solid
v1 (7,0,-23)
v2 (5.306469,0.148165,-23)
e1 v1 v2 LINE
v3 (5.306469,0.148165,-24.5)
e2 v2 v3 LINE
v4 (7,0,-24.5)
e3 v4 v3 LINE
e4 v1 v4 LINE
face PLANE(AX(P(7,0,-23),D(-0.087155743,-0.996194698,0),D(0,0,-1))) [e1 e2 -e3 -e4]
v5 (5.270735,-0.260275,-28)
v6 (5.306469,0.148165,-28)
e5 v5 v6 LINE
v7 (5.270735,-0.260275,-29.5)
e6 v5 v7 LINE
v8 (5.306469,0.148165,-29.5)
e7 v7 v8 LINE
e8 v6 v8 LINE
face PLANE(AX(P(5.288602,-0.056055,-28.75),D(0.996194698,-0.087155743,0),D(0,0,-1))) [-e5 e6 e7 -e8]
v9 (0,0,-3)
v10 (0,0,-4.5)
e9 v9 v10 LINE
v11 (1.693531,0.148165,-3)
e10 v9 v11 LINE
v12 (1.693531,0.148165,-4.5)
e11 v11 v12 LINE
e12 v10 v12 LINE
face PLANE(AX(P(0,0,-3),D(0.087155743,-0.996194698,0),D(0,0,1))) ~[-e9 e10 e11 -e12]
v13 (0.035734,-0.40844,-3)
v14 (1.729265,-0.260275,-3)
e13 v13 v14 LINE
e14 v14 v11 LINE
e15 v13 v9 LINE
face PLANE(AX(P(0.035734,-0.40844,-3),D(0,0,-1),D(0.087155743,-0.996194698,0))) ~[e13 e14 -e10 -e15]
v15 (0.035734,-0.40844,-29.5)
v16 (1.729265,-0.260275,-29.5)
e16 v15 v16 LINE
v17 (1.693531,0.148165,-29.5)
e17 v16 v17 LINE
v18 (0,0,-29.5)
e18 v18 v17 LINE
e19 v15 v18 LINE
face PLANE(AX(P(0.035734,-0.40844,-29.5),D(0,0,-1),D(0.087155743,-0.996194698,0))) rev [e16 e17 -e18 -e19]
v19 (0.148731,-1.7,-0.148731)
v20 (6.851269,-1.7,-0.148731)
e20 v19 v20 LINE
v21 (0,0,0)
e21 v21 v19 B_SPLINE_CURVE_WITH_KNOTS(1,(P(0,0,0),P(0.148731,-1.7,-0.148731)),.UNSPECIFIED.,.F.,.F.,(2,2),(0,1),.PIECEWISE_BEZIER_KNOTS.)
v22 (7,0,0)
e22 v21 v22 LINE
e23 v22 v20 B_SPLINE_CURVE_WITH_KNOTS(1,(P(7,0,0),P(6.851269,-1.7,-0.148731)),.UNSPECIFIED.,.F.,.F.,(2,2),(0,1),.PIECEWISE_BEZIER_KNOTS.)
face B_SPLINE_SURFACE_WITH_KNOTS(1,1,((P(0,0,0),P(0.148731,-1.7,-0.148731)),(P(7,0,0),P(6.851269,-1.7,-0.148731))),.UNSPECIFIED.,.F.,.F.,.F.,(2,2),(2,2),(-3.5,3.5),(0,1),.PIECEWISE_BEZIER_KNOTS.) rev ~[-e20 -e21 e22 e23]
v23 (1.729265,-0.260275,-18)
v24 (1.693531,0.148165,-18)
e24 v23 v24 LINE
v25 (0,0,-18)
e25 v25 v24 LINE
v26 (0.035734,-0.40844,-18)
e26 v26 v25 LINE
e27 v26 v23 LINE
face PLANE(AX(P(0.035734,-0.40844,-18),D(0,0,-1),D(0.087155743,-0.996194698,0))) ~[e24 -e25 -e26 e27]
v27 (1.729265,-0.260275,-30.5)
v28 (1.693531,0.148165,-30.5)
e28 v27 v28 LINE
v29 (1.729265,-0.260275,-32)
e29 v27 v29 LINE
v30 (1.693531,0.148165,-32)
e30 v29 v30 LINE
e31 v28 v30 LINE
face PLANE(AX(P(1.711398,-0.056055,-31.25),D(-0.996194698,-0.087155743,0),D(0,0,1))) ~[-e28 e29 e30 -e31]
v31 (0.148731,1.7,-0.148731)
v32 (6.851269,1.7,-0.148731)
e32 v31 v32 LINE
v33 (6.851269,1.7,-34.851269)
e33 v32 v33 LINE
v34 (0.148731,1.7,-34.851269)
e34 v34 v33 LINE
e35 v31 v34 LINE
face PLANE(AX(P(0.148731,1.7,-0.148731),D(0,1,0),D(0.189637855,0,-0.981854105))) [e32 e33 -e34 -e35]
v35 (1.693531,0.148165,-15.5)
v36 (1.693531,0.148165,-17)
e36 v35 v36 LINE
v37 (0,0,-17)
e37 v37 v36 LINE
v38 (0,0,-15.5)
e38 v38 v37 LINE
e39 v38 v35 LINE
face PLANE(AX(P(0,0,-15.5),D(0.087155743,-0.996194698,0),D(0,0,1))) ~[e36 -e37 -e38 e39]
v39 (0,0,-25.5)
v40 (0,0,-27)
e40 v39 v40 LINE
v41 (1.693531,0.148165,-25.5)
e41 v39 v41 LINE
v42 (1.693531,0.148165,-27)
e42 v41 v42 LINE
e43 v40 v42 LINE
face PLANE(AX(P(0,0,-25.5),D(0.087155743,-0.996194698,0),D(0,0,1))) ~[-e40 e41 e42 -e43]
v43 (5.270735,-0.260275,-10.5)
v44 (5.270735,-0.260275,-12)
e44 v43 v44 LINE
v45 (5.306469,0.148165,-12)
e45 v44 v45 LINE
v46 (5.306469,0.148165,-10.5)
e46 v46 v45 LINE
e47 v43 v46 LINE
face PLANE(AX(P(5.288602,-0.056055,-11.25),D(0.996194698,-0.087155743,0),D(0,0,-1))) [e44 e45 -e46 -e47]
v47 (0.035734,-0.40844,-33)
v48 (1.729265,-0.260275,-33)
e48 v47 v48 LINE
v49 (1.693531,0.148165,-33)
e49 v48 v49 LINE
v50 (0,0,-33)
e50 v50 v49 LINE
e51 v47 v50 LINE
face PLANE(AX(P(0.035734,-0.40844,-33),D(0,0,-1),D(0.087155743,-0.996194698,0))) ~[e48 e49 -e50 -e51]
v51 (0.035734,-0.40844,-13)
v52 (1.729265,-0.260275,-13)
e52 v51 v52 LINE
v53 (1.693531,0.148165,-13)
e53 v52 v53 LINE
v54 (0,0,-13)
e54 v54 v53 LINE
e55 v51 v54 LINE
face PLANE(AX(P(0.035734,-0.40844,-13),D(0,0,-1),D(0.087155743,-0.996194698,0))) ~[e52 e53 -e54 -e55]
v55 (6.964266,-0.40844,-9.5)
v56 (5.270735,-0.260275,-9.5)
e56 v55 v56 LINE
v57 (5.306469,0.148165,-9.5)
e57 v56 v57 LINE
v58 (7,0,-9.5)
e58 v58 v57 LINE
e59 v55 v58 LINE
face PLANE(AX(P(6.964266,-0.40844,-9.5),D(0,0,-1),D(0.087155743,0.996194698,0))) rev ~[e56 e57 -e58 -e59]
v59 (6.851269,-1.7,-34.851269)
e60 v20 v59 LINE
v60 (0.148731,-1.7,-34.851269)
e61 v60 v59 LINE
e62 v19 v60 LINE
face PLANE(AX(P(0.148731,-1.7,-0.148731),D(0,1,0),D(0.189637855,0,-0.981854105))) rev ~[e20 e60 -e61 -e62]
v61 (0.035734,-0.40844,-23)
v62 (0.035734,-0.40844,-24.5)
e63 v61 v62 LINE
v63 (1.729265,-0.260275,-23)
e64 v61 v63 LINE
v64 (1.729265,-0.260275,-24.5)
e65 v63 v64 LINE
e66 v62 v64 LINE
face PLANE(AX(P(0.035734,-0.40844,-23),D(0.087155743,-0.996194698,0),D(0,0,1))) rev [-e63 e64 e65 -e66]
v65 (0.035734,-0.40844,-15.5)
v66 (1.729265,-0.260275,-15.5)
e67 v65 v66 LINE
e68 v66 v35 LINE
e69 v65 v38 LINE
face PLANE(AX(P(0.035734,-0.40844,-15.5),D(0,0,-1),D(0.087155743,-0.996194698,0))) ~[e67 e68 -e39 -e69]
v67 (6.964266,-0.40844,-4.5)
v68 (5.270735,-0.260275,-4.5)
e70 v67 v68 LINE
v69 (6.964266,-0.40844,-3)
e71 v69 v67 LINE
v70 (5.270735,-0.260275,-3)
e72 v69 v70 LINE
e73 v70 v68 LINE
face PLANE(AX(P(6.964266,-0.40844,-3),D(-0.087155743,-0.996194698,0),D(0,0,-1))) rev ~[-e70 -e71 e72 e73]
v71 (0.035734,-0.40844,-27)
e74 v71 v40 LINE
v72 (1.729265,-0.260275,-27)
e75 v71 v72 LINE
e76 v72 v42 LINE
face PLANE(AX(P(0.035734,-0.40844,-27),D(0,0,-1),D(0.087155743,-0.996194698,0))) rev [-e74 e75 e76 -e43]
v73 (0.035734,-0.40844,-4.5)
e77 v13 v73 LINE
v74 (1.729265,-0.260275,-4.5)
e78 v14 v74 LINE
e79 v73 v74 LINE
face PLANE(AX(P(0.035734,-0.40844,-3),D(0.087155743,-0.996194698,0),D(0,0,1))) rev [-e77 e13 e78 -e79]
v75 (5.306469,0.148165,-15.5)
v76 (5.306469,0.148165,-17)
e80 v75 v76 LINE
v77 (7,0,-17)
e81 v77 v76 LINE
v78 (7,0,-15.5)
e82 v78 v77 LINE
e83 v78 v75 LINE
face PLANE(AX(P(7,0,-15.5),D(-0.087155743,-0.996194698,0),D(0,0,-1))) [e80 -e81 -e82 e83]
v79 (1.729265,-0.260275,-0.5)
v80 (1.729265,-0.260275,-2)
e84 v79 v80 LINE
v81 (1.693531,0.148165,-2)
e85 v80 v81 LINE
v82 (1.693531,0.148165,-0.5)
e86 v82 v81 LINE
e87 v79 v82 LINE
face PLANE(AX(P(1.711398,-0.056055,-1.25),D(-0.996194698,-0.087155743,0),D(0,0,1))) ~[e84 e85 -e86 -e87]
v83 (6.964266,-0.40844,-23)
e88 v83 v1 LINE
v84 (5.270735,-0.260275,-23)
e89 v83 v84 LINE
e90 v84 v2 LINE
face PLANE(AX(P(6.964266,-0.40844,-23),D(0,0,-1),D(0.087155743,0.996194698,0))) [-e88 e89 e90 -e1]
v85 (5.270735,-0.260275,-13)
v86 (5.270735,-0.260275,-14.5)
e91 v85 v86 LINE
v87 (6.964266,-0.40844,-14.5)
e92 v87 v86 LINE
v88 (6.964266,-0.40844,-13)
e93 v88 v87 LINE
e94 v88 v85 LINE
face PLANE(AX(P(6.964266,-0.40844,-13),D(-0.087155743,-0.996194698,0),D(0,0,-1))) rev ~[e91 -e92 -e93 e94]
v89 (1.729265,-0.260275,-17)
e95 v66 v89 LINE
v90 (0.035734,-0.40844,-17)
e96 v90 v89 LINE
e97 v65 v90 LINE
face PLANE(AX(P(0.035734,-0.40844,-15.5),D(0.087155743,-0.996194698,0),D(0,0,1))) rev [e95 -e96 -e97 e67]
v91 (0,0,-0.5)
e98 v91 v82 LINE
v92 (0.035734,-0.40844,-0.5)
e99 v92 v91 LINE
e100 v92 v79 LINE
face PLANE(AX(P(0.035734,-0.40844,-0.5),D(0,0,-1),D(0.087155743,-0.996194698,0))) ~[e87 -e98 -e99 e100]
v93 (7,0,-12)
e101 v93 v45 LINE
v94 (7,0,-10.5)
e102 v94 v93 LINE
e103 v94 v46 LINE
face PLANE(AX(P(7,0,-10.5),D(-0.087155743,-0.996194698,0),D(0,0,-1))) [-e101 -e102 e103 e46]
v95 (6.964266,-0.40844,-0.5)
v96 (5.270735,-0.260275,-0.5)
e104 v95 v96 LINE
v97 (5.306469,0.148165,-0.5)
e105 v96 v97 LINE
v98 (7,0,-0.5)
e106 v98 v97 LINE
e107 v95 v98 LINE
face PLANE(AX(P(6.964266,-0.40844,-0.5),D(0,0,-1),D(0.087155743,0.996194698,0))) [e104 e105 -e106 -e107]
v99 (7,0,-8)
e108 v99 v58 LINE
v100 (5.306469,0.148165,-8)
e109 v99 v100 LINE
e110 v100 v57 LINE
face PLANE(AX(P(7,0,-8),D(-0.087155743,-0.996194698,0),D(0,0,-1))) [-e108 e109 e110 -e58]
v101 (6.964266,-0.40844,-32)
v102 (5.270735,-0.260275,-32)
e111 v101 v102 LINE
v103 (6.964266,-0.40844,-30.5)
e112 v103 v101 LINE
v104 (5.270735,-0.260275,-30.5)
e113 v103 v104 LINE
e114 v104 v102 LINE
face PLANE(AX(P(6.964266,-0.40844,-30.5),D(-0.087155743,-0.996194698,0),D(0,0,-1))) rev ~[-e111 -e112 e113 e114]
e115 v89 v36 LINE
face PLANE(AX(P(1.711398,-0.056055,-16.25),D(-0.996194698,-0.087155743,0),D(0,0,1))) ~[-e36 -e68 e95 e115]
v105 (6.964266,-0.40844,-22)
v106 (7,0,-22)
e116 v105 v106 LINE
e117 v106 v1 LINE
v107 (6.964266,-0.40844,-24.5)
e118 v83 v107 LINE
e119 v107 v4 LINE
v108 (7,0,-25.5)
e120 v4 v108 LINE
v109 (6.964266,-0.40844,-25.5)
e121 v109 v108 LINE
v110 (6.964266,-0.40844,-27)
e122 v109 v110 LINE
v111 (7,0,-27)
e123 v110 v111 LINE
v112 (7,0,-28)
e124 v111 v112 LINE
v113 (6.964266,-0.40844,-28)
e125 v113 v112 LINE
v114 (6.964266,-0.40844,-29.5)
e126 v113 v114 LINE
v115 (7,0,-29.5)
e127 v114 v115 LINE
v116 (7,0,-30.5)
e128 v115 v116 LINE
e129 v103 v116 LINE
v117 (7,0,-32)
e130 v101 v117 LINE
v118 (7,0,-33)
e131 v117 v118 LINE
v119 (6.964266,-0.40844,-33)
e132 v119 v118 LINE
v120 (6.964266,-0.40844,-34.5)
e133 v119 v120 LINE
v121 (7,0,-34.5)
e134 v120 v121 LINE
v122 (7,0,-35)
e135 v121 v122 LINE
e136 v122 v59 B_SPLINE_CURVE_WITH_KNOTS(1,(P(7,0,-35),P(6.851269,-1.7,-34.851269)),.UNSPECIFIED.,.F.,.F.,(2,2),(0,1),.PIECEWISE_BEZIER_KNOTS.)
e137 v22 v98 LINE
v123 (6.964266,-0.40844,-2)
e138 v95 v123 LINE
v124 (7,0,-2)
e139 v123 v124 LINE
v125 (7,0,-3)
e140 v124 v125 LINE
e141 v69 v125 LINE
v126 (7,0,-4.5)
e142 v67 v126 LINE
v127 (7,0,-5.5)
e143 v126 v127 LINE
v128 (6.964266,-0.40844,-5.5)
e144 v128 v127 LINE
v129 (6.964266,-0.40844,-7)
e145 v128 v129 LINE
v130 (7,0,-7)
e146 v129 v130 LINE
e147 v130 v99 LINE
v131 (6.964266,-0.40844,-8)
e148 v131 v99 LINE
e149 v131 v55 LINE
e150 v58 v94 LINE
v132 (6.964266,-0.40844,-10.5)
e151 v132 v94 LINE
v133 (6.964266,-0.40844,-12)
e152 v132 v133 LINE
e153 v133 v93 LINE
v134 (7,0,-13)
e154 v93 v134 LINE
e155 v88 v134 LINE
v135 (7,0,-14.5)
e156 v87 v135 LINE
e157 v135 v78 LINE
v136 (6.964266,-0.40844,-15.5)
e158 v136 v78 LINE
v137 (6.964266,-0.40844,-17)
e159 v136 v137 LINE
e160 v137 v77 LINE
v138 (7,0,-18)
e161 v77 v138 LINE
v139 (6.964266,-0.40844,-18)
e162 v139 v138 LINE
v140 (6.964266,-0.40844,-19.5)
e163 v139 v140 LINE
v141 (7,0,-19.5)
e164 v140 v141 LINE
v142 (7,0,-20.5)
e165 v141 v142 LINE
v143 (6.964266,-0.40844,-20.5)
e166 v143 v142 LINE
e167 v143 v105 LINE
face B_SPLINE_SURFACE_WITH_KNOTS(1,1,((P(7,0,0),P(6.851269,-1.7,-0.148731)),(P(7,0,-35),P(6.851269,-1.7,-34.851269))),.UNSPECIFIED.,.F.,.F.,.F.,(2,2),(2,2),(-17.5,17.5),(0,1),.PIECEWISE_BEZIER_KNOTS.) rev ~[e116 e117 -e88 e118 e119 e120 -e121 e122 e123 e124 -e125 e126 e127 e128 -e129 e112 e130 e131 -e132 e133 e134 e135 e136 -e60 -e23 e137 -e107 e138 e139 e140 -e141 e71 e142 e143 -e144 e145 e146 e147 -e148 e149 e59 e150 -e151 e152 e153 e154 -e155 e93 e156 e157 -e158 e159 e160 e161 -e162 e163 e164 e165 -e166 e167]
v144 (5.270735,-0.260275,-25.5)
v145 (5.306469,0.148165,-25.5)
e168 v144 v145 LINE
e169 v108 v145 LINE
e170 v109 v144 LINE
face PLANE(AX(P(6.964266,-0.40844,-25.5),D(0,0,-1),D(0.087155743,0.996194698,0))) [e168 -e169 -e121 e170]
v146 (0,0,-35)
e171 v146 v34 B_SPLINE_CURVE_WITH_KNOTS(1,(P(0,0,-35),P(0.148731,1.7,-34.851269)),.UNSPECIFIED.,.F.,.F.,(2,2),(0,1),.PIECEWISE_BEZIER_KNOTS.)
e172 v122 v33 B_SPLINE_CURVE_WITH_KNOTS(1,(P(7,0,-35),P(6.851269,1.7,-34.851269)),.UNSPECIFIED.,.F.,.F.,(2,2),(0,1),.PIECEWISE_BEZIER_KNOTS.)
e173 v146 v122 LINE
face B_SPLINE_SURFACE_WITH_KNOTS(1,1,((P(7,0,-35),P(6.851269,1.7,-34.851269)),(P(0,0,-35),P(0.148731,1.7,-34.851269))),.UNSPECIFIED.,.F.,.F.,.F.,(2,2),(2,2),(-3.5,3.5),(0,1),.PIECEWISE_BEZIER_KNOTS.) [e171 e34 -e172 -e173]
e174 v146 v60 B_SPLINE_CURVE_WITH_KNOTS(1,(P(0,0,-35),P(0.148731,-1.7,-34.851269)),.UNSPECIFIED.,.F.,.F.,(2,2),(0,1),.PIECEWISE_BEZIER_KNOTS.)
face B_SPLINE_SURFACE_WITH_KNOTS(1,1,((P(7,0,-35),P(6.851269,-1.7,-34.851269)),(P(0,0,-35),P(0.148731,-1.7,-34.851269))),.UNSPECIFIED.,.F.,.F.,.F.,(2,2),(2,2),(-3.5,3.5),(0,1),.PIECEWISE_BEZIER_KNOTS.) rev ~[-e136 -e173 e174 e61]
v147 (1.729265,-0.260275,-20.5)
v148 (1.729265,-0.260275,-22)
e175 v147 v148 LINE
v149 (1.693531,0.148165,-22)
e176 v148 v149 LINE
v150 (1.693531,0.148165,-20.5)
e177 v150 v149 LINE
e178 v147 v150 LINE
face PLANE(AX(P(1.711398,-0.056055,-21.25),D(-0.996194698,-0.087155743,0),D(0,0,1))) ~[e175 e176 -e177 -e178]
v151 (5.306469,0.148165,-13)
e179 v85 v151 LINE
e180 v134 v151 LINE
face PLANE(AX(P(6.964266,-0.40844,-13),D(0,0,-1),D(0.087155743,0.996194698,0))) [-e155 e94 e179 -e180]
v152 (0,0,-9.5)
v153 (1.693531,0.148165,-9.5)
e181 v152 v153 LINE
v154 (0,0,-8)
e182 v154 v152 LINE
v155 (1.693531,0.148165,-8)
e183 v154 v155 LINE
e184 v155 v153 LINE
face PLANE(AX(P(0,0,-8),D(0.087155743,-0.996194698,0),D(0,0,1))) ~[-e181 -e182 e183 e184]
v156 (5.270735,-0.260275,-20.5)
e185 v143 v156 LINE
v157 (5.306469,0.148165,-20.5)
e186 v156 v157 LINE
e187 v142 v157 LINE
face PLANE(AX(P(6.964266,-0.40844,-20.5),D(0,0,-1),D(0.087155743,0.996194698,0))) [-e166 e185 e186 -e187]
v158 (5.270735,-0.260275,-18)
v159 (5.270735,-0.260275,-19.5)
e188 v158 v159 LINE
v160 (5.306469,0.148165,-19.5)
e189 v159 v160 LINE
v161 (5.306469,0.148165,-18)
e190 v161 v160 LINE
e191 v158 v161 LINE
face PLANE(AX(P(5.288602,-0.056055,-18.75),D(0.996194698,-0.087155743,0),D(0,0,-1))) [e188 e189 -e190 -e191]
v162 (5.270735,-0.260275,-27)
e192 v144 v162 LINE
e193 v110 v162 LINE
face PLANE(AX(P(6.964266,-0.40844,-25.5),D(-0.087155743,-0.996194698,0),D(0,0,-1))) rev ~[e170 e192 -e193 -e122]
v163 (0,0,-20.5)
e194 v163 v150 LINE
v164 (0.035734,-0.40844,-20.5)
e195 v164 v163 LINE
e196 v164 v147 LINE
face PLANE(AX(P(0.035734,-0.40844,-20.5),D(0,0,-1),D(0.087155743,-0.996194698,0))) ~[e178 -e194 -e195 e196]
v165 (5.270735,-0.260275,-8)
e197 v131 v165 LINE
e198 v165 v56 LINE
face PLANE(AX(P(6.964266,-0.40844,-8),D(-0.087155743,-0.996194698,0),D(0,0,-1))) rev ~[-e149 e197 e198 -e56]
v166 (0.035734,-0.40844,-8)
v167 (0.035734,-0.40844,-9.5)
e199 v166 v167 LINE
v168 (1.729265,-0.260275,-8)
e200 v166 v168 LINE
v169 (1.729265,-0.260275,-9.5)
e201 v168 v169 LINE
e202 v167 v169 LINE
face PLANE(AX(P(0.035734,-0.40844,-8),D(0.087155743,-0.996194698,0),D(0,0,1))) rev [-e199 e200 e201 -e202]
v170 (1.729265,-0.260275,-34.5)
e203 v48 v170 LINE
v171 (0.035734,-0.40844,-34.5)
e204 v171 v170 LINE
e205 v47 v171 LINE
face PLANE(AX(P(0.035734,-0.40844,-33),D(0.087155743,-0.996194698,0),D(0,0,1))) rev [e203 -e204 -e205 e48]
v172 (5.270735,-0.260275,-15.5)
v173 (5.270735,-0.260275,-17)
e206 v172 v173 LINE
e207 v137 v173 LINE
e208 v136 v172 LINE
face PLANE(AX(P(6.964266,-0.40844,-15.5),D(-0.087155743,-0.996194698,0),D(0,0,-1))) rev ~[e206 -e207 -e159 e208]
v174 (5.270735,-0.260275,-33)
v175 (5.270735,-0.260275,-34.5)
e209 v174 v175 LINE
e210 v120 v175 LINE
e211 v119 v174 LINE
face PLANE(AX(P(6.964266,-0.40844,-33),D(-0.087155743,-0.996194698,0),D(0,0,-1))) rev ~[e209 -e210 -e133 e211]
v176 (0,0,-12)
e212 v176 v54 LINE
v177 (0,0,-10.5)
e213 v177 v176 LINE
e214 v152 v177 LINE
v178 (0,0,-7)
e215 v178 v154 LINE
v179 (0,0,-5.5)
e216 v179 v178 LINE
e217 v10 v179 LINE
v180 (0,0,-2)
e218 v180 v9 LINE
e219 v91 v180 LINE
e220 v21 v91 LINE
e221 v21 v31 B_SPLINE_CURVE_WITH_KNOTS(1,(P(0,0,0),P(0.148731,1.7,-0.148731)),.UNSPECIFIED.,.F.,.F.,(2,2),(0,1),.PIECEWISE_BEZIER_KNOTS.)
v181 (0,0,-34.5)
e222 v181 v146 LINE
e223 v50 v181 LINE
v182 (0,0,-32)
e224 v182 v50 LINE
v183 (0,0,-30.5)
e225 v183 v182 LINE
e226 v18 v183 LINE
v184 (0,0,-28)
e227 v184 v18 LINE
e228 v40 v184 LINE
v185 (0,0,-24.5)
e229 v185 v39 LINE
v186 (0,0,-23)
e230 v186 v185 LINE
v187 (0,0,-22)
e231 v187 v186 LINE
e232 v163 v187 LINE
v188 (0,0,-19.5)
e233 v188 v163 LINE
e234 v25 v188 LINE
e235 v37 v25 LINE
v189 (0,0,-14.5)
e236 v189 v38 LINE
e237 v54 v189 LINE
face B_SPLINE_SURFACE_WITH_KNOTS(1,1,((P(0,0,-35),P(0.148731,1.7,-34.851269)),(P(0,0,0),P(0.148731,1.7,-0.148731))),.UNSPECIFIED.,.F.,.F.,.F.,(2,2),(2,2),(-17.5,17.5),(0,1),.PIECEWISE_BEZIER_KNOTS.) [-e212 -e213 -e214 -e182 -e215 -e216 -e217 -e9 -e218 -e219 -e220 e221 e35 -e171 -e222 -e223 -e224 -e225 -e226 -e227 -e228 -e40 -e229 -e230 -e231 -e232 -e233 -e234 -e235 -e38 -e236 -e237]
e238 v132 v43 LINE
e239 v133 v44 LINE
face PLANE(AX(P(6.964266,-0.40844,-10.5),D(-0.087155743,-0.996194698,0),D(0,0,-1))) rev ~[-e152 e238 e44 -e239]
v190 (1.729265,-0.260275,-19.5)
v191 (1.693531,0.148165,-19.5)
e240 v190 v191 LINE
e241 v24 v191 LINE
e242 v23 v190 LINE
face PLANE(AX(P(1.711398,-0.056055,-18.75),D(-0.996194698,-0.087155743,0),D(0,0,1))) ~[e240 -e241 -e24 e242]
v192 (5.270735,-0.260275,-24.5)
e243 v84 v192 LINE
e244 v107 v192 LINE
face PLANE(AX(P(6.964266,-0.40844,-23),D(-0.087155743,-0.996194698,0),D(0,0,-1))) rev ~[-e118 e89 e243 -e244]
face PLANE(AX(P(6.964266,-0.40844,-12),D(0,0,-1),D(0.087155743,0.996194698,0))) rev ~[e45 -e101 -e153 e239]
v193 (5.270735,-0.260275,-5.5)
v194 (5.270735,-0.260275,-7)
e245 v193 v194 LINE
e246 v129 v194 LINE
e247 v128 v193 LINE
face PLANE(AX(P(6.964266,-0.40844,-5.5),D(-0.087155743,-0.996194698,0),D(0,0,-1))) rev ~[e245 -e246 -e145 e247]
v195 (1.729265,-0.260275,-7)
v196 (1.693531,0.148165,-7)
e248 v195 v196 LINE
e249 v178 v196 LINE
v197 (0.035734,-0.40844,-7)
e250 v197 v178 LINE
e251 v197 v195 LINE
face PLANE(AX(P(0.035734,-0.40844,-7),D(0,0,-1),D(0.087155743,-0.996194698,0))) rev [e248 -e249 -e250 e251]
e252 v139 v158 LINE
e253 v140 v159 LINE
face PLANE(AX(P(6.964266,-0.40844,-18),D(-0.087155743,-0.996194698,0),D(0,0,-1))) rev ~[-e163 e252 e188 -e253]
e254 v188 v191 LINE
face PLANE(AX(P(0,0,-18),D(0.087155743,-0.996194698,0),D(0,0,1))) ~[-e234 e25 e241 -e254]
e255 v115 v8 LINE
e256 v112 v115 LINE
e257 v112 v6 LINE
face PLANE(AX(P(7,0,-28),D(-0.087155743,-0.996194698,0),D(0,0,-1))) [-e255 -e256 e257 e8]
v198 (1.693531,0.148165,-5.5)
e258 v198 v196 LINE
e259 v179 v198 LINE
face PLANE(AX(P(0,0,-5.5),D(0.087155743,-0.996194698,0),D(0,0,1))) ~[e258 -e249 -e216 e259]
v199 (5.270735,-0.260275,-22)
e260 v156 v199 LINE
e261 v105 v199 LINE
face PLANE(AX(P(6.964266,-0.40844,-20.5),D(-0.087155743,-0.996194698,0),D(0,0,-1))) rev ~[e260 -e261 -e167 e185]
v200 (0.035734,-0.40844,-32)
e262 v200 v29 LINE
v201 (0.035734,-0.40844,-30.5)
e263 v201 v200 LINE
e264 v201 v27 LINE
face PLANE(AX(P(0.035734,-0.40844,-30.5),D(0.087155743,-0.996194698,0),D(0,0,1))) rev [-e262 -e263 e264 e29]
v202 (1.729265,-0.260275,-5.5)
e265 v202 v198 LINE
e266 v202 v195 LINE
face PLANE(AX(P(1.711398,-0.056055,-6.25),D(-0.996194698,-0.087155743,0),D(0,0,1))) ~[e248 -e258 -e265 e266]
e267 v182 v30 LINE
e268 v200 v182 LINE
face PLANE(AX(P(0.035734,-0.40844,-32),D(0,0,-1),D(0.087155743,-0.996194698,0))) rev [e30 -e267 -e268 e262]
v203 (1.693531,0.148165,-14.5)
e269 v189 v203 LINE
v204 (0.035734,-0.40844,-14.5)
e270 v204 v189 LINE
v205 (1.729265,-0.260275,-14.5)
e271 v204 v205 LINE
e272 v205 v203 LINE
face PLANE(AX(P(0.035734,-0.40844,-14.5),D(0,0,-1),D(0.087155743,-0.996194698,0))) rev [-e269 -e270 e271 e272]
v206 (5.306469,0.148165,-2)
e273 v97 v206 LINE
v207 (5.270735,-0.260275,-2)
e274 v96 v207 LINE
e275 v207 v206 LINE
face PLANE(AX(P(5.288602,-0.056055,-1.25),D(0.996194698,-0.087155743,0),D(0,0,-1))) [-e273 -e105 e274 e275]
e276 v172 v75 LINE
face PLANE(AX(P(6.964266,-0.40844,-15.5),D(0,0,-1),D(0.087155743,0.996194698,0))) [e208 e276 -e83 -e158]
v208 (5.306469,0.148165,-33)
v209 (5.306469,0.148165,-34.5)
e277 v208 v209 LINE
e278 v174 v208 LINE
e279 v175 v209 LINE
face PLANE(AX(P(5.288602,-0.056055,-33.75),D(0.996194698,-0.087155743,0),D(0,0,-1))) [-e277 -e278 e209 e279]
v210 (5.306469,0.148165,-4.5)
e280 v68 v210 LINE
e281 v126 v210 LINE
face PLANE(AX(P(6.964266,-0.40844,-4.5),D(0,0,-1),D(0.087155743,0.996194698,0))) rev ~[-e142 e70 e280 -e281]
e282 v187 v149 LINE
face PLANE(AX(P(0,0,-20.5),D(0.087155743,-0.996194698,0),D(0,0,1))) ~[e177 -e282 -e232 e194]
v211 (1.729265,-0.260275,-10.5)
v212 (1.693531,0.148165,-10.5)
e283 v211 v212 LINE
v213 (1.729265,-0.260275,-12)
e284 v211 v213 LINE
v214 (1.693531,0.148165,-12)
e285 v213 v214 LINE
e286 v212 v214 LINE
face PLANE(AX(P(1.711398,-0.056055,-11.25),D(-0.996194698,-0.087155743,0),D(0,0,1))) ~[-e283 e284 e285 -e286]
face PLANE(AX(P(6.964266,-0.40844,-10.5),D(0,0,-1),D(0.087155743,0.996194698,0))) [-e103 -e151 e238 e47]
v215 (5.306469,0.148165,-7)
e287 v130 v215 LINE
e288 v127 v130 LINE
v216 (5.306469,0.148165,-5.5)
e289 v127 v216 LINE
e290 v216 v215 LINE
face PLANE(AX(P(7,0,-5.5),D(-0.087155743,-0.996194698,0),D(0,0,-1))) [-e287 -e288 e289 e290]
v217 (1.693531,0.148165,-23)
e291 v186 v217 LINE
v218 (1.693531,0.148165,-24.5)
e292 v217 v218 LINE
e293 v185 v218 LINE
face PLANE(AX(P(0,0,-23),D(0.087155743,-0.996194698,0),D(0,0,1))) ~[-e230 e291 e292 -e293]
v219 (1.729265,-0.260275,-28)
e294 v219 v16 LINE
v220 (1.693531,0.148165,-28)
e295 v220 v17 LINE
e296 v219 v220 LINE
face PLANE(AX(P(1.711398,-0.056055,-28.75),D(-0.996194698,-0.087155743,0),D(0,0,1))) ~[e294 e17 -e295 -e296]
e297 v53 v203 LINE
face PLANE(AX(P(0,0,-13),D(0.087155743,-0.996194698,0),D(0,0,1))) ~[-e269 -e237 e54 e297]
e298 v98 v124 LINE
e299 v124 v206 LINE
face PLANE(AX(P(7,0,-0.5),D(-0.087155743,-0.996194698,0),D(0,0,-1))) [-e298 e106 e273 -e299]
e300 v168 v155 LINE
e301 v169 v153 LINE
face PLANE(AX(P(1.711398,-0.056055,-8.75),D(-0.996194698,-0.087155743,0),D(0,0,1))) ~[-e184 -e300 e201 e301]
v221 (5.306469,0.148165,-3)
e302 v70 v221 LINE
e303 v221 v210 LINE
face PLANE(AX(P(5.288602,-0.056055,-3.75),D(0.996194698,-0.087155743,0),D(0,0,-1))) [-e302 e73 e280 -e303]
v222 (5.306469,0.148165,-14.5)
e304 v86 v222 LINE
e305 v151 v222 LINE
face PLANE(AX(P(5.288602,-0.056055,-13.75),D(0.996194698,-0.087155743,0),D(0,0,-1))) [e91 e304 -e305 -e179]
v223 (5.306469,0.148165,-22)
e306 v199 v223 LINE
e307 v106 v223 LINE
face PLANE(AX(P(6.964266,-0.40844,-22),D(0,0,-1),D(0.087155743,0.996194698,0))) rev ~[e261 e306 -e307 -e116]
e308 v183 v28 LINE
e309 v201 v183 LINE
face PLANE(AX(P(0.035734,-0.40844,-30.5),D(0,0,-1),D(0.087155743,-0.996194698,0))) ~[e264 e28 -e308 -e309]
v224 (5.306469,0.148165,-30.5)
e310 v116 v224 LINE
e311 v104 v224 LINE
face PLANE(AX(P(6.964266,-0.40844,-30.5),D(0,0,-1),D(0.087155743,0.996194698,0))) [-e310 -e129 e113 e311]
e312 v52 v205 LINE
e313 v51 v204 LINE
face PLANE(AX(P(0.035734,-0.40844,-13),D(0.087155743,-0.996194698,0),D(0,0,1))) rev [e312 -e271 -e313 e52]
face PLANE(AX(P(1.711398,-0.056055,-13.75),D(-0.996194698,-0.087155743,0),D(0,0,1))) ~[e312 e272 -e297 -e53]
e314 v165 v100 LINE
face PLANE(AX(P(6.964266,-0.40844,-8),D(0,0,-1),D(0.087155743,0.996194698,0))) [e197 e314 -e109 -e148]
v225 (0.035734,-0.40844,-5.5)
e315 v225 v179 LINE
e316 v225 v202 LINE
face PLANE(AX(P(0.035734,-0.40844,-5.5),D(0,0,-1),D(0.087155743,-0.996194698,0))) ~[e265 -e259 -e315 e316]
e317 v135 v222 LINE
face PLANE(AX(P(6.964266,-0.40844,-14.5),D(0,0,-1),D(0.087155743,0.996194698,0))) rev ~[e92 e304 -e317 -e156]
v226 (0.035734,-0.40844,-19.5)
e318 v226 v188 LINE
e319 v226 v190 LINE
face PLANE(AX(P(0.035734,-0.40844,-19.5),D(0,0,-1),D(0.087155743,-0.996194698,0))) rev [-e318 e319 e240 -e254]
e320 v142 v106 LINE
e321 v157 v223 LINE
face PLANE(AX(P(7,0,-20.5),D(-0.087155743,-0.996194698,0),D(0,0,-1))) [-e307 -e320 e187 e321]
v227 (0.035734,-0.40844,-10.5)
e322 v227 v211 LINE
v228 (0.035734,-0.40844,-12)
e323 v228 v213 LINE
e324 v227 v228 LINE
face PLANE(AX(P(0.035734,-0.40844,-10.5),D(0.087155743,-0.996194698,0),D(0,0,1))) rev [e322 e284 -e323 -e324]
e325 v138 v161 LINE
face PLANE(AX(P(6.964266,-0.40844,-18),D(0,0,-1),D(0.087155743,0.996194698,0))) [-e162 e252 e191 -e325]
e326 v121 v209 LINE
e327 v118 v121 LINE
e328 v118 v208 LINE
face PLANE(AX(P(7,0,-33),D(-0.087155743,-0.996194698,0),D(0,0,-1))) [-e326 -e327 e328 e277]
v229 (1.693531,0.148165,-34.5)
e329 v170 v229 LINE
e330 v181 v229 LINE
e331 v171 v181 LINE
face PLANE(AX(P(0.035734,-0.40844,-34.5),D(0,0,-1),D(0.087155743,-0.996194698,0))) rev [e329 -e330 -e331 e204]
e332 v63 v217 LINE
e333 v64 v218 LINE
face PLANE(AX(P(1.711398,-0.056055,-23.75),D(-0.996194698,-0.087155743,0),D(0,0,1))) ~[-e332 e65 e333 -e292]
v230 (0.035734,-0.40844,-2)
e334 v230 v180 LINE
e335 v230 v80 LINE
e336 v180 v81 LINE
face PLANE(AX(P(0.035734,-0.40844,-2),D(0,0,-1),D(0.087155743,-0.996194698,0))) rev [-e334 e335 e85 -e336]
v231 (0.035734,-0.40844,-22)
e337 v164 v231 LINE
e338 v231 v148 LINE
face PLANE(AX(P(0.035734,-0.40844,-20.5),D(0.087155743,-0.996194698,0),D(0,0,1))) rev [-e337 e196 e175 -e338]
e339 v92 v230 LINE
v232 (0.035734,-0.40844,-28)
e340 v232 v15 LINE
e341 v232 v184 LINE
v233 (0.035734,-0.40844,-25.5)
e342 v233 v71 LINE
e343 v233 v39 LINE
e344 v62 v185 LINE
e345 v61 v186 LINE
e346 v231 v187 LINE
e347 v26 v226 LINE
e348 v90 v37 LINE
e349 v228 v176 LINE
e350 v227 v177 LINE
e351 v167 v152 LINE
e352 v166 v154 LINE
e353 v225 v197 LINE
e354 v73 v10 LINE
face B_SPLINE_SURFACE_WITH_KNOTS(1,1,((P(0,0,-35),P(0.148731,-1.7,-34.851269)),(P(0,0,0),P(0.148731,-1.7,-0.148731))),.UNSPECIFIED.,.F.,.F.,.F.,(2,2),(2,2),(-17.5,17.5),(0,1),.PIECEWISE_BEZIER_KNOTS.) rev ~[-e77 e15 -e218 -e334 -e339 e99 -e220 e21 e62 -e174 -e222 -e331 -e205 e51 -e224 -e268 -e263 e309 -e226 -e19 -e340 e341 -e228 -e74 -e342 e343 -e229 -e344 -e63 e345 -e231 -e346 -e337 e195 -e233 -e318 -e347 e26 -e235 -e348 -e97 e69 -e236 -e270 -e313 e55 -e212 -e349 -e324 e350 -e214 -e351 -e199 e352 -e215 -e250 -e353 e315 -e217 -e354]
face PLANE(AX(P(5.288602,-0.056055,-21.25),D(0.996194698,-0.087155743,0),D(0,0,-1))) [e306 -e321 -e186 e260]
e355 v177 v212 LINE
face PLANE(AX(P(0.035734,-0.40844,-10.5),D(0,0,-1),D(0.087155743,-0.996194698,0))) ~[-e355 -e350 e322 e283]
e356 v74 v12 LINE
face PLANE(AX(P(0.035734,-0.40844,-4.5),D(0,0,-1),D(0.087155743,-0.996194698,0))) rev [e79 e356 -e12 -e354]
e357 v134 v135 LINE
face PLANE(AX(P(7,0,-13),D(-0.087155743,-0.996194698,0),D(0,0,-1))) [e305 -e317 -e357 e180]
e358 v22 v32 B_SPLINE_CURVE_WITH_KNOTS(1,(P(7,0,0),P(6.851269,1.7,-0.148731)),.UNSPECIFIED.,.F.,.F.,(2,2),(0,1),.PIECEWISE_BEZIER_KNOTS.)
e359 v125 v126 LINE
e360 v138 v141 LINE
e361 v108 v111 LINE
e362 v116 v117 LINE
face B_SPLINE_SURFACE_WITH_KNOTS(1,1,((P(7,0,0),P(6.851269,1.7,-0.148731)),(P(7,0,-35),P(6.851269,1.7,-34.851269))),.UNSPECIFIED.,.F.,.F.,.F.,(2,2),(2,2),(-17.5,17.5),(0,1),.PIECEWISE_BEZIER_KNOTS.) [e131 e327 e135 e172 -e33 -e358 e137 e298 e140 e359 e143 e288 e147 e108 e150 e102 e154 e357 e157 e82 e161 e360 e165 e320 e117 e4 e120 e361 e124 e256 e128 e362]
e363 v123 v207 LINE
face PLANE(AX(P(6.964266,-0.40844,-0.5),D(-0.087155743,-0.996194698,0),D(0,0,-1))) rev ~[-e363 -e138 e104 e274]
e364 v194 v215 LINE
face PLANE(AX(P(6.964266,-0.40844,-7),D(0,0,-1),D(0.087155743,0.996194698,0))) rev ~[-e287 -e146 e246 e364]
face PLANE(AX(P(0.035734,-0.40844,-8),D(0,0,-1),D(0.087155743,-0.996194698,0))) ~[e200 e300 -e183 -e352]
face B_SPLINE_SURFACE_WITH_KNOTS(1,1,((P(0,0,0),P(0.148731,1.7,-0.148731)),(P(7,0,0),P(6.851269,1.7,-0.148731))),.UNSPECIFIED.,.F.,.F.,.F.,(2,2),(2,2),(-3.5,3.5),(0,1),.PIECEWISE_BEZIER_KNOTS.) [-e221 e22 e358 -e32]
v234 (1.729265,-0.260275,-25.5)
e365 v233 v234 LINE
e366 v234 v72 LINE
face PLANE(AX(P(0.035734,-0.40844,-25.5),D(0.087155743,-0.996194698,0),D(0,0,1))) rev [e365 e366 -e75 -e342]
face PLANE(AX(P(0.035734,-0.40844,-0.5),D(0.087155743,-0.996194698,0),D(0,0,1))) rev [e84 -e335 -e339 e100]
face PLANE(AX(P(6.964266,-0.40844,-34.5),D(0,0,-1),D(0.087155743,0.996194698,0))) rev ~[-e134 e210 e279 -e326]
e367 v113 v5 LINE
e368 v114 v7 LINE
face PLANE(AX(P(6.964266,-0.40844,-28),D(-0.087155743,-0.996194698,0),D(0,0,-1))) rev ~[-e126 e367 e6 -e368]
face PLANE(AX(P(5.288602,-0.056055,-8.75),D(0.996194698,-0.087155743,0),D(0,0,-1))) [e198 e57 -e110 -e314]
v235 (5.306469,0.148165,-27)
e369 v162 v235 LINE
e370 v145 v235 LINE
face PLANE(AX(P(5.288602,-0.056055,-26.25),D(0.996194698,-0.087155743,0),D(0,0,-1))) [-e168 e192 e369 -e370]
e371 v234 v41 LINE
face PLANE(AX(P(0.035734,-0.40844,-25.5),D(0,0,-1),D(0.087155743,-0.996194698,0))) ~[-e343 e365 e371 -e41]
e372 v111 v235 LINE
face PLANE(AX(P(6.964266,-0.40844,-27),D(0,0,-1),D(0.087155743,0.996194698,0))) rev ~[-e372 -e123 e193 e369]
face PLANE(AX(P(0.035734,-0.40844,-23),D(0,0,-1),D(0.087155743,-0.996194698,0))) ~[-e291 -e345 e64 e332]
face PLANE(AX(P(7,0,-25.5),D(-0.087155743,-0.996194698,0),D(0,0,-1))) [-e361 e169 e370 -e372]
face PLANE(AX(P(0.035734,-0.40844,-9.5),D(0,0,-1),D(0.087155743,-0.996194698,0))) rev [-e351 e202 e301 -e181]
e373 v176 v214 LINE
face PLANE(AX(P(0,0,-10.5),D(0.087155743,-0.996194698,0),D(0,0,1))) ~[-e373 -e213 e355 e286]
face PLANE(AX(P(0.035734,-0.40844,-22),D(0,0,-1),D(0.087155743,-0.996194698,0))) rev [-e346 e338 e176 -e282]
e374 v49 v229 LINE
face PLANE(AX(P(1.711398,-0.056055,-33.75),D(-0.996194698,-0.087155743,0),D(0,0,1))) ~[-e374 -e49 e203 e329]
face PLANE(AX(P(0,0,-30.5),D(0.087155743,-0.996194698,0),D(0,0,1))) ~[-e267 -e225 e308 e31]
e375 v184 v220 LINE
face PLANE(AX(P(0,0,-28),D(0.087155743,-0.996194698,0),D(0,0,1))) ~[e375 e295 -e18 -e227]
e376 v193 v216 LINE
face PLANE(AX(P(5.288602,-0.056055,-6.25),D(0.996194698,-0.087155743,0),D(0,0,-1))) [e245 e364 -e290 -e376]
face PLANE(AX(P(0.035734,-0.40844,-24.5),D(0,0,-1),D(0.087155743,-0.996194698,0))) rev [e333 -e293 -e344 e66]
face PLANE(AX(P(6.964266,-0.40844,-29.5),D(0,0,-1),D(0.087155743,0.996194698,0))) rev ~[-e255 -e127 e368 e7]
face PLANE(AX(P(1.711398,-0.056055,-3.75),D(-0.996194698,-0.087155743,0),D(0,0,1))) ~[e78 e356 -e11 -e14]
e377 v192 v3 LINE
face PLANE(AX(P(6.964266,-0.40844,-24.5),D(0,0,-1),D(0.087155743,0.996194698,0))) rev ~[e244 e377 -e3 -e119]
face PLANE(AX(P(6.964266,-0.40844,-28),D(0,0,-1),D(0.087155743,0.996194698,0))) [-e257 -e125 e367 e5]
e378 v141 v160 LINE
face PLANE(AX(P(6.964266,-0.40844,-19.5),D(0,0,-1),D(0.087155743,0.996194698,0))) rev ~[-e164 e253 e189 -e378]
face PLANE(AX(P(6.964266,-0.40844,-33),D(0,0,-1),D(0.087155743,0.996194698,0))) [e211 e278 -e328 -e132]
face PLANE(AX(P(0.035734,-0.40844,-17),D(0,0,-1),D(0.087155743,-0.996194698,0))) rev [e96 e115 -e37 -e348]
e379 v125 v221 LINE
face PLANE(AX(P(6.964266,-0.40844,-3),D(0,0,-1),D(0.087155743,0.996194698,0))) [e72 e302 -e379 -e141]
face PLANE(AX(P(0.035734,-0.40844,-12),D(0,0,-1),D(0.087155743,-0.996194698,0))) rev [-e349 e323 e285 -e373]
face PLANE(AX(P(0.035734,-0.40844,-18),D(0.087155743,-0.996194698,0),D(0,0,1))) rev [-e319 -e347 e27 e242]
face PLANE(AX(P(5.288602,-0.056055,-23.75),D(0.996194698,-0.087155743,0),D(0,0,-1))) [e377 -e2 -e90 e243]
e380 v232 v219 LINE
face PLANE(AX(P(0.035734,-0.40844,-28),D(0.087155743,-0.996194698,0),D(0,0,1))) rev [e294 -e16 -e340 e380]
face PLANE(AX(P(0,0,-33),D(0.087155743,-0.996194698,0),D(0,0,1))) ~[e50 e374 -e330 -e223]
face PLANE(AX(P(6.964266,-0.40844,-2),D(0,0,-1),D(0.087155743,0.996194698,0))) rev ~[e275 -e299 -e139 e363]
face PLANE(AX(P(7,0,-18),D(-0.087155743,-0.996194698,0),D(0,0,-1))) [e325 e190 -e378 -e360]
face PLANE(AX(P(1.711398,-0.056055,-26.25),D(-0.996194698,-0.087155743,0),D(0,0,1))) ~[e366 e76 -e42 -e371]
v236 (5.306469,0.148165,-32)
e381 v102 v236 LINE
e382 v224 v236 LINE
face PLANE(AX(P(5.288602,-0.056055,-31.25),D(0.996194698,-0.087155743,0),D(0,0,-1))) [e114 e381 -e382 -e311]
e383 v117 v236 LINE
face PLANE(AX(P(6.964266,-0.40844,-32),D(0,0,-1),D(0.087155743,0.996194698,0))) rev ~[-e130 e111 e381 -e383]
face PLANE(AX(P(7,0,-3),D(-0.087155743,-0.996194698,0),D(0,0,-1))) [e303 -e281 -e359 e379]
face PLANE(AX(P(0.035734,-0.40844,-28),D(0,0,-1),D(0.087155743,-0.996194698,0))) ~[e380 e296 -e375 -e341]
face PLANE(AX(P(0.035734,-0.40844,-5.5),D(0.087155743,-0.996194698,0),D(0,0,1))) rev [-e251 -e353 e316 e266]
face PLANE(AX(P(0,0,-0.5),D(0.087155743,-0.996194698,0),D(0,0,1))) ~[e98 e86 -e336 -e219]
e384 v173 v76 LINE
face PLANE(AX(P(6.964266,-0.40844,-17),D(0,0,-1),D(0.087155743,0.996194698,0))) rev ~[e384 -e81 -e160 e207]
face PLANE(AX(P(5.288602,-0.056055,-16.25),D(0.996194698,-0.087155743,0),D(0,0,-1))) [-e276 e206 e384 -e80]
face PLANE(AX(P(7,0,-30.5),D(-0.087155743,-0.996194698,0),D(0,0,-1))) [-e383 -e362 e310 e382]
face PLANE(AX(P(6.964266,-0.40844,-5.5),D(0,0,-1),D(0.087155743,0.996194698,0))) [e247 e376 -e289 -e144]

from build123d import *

# Parameters (mm, degrees)
SKETCH1_W                     = 7
SKETCH1_H                     = 35
BOSS_EXTRUDE1_DEPTH           = 1.7
BOSS_EXTRUDE1_TAPER           = 5
BOSS_EXTRUDE1_OTHER_WAY_DEPTH = 1.7
BOSS_EXTRUDE1_OTHER_WAY_TAPER = 5
SKETCH2_W                     = 1.5
SKETCH2_H                     = 0.41
CUT_EXTRUDE1_DEPTH            = 1.7


with BuildPart() as part:
    # Sketch1 → Boss-Extrude1 (new body)
    with BuildSketch(Plane(origin=(0, 0, 0), x_dir=(1, 0, 0), z_dir=(0, 1, 0))):
        with Locations((3.5, 17.5)):
            Rectangle(SKETCH1_W, SKETCH1_H)
    extrude(amount=BOSS_EXTRUDE1_DEPTH, taper=BOSS_EXTRUDE1_TAPER)

    # Sketch1 → Boss-Extrude1 other way (add)
    with BuildSketch(Plane(origin=(0, 0, 0), x_dir=(1, 0, 0), z_dir=(0, 1, 0))):
        with Locations((3.5, 17.5)):
            Rectangle(SKETCH1_W, SKETCH1_H)
    extrude(amount=-BOSS_EXTRUDE1_OTHER_WAY_DEPTH, taper=BOSS_EXTRUDE1_OTHER_WAY_TAPER)

    # Sketch2 → Cut-Extrude1 (cut)
    with BuildSketch(Plane(origin=(6.946827136, -0.607768622, 0), x_dir=(0, 0, -1), z_dir=(0.996194698, -0.087155743, 0))):
        with Locations((1.25, 0.405090199)):
            Rectangle(SKETCH2_W, SKETCH2_H)
        with Locations((3.75, 0.405090199)):
            Rectangle(SKETCH2_W, SKETCH2_H)
        with Locations((6.25, 0.405090199)):
            Rectangle(SKETCH2_W, SKETCH2_H)
        with Locations((8.75, 0.405090199)):
            Rectangle(SKETCH2_W, SKETCH2_H)
        with Locations((11.25, 0.405090199)):
            Rectangle(SKETCH2_W, SKETCH2_H)
        with Locations((13.75, 0.405090199)):
            Rectangle(SKETCH2_W, SKETCH2_H)
        with Locations((16.25, 0.405090199)):
            Rectangle(SKETCH2_W, SKETCH2_H)
        with Locations((18.75, 0.405090199)):
            Rectangle(SKETCH2_W, SKETCH2_H)
        with Locations((21.25, 0.405090199)):
            Rectangle(SKETCH2_W, SKETCH2_H)
        with Locations((23.75, 0.405090199)):
            Rectangle(SKETCH2_W, SKETCH2_H)
        with Locations((26.25, 0.405090199)):
            Rectangle(SKETCH2_W, SKETCH2_H)
        with Locations((28.75, 0.405090199)):
            Rectangle(SKETCH2_W, SKETCH2_H)
        with Locations((31.25, 0.405090199)):
            Rectangle(SKETCH2_W, SKETCH2_H)
        with Locations((33.75, 0.405090199)):
            Rectangle(SKETCH2_W, SKETCH2_H)
    cut_extrude1 = extrude(amount=-CUT_EXTRUDE1_DEPTH, mode=Mode.SUBTRACT)

    # Mirror1: Cut-Extrude1 across plane
    add(cut_extrude1.mirror(Plane(origin=(3.5, 0, 0), x_dir=(0, 0, 1), z_dir=(1, 0, 0))), mode=Mode.SUBTRACT)


solid = part.part
